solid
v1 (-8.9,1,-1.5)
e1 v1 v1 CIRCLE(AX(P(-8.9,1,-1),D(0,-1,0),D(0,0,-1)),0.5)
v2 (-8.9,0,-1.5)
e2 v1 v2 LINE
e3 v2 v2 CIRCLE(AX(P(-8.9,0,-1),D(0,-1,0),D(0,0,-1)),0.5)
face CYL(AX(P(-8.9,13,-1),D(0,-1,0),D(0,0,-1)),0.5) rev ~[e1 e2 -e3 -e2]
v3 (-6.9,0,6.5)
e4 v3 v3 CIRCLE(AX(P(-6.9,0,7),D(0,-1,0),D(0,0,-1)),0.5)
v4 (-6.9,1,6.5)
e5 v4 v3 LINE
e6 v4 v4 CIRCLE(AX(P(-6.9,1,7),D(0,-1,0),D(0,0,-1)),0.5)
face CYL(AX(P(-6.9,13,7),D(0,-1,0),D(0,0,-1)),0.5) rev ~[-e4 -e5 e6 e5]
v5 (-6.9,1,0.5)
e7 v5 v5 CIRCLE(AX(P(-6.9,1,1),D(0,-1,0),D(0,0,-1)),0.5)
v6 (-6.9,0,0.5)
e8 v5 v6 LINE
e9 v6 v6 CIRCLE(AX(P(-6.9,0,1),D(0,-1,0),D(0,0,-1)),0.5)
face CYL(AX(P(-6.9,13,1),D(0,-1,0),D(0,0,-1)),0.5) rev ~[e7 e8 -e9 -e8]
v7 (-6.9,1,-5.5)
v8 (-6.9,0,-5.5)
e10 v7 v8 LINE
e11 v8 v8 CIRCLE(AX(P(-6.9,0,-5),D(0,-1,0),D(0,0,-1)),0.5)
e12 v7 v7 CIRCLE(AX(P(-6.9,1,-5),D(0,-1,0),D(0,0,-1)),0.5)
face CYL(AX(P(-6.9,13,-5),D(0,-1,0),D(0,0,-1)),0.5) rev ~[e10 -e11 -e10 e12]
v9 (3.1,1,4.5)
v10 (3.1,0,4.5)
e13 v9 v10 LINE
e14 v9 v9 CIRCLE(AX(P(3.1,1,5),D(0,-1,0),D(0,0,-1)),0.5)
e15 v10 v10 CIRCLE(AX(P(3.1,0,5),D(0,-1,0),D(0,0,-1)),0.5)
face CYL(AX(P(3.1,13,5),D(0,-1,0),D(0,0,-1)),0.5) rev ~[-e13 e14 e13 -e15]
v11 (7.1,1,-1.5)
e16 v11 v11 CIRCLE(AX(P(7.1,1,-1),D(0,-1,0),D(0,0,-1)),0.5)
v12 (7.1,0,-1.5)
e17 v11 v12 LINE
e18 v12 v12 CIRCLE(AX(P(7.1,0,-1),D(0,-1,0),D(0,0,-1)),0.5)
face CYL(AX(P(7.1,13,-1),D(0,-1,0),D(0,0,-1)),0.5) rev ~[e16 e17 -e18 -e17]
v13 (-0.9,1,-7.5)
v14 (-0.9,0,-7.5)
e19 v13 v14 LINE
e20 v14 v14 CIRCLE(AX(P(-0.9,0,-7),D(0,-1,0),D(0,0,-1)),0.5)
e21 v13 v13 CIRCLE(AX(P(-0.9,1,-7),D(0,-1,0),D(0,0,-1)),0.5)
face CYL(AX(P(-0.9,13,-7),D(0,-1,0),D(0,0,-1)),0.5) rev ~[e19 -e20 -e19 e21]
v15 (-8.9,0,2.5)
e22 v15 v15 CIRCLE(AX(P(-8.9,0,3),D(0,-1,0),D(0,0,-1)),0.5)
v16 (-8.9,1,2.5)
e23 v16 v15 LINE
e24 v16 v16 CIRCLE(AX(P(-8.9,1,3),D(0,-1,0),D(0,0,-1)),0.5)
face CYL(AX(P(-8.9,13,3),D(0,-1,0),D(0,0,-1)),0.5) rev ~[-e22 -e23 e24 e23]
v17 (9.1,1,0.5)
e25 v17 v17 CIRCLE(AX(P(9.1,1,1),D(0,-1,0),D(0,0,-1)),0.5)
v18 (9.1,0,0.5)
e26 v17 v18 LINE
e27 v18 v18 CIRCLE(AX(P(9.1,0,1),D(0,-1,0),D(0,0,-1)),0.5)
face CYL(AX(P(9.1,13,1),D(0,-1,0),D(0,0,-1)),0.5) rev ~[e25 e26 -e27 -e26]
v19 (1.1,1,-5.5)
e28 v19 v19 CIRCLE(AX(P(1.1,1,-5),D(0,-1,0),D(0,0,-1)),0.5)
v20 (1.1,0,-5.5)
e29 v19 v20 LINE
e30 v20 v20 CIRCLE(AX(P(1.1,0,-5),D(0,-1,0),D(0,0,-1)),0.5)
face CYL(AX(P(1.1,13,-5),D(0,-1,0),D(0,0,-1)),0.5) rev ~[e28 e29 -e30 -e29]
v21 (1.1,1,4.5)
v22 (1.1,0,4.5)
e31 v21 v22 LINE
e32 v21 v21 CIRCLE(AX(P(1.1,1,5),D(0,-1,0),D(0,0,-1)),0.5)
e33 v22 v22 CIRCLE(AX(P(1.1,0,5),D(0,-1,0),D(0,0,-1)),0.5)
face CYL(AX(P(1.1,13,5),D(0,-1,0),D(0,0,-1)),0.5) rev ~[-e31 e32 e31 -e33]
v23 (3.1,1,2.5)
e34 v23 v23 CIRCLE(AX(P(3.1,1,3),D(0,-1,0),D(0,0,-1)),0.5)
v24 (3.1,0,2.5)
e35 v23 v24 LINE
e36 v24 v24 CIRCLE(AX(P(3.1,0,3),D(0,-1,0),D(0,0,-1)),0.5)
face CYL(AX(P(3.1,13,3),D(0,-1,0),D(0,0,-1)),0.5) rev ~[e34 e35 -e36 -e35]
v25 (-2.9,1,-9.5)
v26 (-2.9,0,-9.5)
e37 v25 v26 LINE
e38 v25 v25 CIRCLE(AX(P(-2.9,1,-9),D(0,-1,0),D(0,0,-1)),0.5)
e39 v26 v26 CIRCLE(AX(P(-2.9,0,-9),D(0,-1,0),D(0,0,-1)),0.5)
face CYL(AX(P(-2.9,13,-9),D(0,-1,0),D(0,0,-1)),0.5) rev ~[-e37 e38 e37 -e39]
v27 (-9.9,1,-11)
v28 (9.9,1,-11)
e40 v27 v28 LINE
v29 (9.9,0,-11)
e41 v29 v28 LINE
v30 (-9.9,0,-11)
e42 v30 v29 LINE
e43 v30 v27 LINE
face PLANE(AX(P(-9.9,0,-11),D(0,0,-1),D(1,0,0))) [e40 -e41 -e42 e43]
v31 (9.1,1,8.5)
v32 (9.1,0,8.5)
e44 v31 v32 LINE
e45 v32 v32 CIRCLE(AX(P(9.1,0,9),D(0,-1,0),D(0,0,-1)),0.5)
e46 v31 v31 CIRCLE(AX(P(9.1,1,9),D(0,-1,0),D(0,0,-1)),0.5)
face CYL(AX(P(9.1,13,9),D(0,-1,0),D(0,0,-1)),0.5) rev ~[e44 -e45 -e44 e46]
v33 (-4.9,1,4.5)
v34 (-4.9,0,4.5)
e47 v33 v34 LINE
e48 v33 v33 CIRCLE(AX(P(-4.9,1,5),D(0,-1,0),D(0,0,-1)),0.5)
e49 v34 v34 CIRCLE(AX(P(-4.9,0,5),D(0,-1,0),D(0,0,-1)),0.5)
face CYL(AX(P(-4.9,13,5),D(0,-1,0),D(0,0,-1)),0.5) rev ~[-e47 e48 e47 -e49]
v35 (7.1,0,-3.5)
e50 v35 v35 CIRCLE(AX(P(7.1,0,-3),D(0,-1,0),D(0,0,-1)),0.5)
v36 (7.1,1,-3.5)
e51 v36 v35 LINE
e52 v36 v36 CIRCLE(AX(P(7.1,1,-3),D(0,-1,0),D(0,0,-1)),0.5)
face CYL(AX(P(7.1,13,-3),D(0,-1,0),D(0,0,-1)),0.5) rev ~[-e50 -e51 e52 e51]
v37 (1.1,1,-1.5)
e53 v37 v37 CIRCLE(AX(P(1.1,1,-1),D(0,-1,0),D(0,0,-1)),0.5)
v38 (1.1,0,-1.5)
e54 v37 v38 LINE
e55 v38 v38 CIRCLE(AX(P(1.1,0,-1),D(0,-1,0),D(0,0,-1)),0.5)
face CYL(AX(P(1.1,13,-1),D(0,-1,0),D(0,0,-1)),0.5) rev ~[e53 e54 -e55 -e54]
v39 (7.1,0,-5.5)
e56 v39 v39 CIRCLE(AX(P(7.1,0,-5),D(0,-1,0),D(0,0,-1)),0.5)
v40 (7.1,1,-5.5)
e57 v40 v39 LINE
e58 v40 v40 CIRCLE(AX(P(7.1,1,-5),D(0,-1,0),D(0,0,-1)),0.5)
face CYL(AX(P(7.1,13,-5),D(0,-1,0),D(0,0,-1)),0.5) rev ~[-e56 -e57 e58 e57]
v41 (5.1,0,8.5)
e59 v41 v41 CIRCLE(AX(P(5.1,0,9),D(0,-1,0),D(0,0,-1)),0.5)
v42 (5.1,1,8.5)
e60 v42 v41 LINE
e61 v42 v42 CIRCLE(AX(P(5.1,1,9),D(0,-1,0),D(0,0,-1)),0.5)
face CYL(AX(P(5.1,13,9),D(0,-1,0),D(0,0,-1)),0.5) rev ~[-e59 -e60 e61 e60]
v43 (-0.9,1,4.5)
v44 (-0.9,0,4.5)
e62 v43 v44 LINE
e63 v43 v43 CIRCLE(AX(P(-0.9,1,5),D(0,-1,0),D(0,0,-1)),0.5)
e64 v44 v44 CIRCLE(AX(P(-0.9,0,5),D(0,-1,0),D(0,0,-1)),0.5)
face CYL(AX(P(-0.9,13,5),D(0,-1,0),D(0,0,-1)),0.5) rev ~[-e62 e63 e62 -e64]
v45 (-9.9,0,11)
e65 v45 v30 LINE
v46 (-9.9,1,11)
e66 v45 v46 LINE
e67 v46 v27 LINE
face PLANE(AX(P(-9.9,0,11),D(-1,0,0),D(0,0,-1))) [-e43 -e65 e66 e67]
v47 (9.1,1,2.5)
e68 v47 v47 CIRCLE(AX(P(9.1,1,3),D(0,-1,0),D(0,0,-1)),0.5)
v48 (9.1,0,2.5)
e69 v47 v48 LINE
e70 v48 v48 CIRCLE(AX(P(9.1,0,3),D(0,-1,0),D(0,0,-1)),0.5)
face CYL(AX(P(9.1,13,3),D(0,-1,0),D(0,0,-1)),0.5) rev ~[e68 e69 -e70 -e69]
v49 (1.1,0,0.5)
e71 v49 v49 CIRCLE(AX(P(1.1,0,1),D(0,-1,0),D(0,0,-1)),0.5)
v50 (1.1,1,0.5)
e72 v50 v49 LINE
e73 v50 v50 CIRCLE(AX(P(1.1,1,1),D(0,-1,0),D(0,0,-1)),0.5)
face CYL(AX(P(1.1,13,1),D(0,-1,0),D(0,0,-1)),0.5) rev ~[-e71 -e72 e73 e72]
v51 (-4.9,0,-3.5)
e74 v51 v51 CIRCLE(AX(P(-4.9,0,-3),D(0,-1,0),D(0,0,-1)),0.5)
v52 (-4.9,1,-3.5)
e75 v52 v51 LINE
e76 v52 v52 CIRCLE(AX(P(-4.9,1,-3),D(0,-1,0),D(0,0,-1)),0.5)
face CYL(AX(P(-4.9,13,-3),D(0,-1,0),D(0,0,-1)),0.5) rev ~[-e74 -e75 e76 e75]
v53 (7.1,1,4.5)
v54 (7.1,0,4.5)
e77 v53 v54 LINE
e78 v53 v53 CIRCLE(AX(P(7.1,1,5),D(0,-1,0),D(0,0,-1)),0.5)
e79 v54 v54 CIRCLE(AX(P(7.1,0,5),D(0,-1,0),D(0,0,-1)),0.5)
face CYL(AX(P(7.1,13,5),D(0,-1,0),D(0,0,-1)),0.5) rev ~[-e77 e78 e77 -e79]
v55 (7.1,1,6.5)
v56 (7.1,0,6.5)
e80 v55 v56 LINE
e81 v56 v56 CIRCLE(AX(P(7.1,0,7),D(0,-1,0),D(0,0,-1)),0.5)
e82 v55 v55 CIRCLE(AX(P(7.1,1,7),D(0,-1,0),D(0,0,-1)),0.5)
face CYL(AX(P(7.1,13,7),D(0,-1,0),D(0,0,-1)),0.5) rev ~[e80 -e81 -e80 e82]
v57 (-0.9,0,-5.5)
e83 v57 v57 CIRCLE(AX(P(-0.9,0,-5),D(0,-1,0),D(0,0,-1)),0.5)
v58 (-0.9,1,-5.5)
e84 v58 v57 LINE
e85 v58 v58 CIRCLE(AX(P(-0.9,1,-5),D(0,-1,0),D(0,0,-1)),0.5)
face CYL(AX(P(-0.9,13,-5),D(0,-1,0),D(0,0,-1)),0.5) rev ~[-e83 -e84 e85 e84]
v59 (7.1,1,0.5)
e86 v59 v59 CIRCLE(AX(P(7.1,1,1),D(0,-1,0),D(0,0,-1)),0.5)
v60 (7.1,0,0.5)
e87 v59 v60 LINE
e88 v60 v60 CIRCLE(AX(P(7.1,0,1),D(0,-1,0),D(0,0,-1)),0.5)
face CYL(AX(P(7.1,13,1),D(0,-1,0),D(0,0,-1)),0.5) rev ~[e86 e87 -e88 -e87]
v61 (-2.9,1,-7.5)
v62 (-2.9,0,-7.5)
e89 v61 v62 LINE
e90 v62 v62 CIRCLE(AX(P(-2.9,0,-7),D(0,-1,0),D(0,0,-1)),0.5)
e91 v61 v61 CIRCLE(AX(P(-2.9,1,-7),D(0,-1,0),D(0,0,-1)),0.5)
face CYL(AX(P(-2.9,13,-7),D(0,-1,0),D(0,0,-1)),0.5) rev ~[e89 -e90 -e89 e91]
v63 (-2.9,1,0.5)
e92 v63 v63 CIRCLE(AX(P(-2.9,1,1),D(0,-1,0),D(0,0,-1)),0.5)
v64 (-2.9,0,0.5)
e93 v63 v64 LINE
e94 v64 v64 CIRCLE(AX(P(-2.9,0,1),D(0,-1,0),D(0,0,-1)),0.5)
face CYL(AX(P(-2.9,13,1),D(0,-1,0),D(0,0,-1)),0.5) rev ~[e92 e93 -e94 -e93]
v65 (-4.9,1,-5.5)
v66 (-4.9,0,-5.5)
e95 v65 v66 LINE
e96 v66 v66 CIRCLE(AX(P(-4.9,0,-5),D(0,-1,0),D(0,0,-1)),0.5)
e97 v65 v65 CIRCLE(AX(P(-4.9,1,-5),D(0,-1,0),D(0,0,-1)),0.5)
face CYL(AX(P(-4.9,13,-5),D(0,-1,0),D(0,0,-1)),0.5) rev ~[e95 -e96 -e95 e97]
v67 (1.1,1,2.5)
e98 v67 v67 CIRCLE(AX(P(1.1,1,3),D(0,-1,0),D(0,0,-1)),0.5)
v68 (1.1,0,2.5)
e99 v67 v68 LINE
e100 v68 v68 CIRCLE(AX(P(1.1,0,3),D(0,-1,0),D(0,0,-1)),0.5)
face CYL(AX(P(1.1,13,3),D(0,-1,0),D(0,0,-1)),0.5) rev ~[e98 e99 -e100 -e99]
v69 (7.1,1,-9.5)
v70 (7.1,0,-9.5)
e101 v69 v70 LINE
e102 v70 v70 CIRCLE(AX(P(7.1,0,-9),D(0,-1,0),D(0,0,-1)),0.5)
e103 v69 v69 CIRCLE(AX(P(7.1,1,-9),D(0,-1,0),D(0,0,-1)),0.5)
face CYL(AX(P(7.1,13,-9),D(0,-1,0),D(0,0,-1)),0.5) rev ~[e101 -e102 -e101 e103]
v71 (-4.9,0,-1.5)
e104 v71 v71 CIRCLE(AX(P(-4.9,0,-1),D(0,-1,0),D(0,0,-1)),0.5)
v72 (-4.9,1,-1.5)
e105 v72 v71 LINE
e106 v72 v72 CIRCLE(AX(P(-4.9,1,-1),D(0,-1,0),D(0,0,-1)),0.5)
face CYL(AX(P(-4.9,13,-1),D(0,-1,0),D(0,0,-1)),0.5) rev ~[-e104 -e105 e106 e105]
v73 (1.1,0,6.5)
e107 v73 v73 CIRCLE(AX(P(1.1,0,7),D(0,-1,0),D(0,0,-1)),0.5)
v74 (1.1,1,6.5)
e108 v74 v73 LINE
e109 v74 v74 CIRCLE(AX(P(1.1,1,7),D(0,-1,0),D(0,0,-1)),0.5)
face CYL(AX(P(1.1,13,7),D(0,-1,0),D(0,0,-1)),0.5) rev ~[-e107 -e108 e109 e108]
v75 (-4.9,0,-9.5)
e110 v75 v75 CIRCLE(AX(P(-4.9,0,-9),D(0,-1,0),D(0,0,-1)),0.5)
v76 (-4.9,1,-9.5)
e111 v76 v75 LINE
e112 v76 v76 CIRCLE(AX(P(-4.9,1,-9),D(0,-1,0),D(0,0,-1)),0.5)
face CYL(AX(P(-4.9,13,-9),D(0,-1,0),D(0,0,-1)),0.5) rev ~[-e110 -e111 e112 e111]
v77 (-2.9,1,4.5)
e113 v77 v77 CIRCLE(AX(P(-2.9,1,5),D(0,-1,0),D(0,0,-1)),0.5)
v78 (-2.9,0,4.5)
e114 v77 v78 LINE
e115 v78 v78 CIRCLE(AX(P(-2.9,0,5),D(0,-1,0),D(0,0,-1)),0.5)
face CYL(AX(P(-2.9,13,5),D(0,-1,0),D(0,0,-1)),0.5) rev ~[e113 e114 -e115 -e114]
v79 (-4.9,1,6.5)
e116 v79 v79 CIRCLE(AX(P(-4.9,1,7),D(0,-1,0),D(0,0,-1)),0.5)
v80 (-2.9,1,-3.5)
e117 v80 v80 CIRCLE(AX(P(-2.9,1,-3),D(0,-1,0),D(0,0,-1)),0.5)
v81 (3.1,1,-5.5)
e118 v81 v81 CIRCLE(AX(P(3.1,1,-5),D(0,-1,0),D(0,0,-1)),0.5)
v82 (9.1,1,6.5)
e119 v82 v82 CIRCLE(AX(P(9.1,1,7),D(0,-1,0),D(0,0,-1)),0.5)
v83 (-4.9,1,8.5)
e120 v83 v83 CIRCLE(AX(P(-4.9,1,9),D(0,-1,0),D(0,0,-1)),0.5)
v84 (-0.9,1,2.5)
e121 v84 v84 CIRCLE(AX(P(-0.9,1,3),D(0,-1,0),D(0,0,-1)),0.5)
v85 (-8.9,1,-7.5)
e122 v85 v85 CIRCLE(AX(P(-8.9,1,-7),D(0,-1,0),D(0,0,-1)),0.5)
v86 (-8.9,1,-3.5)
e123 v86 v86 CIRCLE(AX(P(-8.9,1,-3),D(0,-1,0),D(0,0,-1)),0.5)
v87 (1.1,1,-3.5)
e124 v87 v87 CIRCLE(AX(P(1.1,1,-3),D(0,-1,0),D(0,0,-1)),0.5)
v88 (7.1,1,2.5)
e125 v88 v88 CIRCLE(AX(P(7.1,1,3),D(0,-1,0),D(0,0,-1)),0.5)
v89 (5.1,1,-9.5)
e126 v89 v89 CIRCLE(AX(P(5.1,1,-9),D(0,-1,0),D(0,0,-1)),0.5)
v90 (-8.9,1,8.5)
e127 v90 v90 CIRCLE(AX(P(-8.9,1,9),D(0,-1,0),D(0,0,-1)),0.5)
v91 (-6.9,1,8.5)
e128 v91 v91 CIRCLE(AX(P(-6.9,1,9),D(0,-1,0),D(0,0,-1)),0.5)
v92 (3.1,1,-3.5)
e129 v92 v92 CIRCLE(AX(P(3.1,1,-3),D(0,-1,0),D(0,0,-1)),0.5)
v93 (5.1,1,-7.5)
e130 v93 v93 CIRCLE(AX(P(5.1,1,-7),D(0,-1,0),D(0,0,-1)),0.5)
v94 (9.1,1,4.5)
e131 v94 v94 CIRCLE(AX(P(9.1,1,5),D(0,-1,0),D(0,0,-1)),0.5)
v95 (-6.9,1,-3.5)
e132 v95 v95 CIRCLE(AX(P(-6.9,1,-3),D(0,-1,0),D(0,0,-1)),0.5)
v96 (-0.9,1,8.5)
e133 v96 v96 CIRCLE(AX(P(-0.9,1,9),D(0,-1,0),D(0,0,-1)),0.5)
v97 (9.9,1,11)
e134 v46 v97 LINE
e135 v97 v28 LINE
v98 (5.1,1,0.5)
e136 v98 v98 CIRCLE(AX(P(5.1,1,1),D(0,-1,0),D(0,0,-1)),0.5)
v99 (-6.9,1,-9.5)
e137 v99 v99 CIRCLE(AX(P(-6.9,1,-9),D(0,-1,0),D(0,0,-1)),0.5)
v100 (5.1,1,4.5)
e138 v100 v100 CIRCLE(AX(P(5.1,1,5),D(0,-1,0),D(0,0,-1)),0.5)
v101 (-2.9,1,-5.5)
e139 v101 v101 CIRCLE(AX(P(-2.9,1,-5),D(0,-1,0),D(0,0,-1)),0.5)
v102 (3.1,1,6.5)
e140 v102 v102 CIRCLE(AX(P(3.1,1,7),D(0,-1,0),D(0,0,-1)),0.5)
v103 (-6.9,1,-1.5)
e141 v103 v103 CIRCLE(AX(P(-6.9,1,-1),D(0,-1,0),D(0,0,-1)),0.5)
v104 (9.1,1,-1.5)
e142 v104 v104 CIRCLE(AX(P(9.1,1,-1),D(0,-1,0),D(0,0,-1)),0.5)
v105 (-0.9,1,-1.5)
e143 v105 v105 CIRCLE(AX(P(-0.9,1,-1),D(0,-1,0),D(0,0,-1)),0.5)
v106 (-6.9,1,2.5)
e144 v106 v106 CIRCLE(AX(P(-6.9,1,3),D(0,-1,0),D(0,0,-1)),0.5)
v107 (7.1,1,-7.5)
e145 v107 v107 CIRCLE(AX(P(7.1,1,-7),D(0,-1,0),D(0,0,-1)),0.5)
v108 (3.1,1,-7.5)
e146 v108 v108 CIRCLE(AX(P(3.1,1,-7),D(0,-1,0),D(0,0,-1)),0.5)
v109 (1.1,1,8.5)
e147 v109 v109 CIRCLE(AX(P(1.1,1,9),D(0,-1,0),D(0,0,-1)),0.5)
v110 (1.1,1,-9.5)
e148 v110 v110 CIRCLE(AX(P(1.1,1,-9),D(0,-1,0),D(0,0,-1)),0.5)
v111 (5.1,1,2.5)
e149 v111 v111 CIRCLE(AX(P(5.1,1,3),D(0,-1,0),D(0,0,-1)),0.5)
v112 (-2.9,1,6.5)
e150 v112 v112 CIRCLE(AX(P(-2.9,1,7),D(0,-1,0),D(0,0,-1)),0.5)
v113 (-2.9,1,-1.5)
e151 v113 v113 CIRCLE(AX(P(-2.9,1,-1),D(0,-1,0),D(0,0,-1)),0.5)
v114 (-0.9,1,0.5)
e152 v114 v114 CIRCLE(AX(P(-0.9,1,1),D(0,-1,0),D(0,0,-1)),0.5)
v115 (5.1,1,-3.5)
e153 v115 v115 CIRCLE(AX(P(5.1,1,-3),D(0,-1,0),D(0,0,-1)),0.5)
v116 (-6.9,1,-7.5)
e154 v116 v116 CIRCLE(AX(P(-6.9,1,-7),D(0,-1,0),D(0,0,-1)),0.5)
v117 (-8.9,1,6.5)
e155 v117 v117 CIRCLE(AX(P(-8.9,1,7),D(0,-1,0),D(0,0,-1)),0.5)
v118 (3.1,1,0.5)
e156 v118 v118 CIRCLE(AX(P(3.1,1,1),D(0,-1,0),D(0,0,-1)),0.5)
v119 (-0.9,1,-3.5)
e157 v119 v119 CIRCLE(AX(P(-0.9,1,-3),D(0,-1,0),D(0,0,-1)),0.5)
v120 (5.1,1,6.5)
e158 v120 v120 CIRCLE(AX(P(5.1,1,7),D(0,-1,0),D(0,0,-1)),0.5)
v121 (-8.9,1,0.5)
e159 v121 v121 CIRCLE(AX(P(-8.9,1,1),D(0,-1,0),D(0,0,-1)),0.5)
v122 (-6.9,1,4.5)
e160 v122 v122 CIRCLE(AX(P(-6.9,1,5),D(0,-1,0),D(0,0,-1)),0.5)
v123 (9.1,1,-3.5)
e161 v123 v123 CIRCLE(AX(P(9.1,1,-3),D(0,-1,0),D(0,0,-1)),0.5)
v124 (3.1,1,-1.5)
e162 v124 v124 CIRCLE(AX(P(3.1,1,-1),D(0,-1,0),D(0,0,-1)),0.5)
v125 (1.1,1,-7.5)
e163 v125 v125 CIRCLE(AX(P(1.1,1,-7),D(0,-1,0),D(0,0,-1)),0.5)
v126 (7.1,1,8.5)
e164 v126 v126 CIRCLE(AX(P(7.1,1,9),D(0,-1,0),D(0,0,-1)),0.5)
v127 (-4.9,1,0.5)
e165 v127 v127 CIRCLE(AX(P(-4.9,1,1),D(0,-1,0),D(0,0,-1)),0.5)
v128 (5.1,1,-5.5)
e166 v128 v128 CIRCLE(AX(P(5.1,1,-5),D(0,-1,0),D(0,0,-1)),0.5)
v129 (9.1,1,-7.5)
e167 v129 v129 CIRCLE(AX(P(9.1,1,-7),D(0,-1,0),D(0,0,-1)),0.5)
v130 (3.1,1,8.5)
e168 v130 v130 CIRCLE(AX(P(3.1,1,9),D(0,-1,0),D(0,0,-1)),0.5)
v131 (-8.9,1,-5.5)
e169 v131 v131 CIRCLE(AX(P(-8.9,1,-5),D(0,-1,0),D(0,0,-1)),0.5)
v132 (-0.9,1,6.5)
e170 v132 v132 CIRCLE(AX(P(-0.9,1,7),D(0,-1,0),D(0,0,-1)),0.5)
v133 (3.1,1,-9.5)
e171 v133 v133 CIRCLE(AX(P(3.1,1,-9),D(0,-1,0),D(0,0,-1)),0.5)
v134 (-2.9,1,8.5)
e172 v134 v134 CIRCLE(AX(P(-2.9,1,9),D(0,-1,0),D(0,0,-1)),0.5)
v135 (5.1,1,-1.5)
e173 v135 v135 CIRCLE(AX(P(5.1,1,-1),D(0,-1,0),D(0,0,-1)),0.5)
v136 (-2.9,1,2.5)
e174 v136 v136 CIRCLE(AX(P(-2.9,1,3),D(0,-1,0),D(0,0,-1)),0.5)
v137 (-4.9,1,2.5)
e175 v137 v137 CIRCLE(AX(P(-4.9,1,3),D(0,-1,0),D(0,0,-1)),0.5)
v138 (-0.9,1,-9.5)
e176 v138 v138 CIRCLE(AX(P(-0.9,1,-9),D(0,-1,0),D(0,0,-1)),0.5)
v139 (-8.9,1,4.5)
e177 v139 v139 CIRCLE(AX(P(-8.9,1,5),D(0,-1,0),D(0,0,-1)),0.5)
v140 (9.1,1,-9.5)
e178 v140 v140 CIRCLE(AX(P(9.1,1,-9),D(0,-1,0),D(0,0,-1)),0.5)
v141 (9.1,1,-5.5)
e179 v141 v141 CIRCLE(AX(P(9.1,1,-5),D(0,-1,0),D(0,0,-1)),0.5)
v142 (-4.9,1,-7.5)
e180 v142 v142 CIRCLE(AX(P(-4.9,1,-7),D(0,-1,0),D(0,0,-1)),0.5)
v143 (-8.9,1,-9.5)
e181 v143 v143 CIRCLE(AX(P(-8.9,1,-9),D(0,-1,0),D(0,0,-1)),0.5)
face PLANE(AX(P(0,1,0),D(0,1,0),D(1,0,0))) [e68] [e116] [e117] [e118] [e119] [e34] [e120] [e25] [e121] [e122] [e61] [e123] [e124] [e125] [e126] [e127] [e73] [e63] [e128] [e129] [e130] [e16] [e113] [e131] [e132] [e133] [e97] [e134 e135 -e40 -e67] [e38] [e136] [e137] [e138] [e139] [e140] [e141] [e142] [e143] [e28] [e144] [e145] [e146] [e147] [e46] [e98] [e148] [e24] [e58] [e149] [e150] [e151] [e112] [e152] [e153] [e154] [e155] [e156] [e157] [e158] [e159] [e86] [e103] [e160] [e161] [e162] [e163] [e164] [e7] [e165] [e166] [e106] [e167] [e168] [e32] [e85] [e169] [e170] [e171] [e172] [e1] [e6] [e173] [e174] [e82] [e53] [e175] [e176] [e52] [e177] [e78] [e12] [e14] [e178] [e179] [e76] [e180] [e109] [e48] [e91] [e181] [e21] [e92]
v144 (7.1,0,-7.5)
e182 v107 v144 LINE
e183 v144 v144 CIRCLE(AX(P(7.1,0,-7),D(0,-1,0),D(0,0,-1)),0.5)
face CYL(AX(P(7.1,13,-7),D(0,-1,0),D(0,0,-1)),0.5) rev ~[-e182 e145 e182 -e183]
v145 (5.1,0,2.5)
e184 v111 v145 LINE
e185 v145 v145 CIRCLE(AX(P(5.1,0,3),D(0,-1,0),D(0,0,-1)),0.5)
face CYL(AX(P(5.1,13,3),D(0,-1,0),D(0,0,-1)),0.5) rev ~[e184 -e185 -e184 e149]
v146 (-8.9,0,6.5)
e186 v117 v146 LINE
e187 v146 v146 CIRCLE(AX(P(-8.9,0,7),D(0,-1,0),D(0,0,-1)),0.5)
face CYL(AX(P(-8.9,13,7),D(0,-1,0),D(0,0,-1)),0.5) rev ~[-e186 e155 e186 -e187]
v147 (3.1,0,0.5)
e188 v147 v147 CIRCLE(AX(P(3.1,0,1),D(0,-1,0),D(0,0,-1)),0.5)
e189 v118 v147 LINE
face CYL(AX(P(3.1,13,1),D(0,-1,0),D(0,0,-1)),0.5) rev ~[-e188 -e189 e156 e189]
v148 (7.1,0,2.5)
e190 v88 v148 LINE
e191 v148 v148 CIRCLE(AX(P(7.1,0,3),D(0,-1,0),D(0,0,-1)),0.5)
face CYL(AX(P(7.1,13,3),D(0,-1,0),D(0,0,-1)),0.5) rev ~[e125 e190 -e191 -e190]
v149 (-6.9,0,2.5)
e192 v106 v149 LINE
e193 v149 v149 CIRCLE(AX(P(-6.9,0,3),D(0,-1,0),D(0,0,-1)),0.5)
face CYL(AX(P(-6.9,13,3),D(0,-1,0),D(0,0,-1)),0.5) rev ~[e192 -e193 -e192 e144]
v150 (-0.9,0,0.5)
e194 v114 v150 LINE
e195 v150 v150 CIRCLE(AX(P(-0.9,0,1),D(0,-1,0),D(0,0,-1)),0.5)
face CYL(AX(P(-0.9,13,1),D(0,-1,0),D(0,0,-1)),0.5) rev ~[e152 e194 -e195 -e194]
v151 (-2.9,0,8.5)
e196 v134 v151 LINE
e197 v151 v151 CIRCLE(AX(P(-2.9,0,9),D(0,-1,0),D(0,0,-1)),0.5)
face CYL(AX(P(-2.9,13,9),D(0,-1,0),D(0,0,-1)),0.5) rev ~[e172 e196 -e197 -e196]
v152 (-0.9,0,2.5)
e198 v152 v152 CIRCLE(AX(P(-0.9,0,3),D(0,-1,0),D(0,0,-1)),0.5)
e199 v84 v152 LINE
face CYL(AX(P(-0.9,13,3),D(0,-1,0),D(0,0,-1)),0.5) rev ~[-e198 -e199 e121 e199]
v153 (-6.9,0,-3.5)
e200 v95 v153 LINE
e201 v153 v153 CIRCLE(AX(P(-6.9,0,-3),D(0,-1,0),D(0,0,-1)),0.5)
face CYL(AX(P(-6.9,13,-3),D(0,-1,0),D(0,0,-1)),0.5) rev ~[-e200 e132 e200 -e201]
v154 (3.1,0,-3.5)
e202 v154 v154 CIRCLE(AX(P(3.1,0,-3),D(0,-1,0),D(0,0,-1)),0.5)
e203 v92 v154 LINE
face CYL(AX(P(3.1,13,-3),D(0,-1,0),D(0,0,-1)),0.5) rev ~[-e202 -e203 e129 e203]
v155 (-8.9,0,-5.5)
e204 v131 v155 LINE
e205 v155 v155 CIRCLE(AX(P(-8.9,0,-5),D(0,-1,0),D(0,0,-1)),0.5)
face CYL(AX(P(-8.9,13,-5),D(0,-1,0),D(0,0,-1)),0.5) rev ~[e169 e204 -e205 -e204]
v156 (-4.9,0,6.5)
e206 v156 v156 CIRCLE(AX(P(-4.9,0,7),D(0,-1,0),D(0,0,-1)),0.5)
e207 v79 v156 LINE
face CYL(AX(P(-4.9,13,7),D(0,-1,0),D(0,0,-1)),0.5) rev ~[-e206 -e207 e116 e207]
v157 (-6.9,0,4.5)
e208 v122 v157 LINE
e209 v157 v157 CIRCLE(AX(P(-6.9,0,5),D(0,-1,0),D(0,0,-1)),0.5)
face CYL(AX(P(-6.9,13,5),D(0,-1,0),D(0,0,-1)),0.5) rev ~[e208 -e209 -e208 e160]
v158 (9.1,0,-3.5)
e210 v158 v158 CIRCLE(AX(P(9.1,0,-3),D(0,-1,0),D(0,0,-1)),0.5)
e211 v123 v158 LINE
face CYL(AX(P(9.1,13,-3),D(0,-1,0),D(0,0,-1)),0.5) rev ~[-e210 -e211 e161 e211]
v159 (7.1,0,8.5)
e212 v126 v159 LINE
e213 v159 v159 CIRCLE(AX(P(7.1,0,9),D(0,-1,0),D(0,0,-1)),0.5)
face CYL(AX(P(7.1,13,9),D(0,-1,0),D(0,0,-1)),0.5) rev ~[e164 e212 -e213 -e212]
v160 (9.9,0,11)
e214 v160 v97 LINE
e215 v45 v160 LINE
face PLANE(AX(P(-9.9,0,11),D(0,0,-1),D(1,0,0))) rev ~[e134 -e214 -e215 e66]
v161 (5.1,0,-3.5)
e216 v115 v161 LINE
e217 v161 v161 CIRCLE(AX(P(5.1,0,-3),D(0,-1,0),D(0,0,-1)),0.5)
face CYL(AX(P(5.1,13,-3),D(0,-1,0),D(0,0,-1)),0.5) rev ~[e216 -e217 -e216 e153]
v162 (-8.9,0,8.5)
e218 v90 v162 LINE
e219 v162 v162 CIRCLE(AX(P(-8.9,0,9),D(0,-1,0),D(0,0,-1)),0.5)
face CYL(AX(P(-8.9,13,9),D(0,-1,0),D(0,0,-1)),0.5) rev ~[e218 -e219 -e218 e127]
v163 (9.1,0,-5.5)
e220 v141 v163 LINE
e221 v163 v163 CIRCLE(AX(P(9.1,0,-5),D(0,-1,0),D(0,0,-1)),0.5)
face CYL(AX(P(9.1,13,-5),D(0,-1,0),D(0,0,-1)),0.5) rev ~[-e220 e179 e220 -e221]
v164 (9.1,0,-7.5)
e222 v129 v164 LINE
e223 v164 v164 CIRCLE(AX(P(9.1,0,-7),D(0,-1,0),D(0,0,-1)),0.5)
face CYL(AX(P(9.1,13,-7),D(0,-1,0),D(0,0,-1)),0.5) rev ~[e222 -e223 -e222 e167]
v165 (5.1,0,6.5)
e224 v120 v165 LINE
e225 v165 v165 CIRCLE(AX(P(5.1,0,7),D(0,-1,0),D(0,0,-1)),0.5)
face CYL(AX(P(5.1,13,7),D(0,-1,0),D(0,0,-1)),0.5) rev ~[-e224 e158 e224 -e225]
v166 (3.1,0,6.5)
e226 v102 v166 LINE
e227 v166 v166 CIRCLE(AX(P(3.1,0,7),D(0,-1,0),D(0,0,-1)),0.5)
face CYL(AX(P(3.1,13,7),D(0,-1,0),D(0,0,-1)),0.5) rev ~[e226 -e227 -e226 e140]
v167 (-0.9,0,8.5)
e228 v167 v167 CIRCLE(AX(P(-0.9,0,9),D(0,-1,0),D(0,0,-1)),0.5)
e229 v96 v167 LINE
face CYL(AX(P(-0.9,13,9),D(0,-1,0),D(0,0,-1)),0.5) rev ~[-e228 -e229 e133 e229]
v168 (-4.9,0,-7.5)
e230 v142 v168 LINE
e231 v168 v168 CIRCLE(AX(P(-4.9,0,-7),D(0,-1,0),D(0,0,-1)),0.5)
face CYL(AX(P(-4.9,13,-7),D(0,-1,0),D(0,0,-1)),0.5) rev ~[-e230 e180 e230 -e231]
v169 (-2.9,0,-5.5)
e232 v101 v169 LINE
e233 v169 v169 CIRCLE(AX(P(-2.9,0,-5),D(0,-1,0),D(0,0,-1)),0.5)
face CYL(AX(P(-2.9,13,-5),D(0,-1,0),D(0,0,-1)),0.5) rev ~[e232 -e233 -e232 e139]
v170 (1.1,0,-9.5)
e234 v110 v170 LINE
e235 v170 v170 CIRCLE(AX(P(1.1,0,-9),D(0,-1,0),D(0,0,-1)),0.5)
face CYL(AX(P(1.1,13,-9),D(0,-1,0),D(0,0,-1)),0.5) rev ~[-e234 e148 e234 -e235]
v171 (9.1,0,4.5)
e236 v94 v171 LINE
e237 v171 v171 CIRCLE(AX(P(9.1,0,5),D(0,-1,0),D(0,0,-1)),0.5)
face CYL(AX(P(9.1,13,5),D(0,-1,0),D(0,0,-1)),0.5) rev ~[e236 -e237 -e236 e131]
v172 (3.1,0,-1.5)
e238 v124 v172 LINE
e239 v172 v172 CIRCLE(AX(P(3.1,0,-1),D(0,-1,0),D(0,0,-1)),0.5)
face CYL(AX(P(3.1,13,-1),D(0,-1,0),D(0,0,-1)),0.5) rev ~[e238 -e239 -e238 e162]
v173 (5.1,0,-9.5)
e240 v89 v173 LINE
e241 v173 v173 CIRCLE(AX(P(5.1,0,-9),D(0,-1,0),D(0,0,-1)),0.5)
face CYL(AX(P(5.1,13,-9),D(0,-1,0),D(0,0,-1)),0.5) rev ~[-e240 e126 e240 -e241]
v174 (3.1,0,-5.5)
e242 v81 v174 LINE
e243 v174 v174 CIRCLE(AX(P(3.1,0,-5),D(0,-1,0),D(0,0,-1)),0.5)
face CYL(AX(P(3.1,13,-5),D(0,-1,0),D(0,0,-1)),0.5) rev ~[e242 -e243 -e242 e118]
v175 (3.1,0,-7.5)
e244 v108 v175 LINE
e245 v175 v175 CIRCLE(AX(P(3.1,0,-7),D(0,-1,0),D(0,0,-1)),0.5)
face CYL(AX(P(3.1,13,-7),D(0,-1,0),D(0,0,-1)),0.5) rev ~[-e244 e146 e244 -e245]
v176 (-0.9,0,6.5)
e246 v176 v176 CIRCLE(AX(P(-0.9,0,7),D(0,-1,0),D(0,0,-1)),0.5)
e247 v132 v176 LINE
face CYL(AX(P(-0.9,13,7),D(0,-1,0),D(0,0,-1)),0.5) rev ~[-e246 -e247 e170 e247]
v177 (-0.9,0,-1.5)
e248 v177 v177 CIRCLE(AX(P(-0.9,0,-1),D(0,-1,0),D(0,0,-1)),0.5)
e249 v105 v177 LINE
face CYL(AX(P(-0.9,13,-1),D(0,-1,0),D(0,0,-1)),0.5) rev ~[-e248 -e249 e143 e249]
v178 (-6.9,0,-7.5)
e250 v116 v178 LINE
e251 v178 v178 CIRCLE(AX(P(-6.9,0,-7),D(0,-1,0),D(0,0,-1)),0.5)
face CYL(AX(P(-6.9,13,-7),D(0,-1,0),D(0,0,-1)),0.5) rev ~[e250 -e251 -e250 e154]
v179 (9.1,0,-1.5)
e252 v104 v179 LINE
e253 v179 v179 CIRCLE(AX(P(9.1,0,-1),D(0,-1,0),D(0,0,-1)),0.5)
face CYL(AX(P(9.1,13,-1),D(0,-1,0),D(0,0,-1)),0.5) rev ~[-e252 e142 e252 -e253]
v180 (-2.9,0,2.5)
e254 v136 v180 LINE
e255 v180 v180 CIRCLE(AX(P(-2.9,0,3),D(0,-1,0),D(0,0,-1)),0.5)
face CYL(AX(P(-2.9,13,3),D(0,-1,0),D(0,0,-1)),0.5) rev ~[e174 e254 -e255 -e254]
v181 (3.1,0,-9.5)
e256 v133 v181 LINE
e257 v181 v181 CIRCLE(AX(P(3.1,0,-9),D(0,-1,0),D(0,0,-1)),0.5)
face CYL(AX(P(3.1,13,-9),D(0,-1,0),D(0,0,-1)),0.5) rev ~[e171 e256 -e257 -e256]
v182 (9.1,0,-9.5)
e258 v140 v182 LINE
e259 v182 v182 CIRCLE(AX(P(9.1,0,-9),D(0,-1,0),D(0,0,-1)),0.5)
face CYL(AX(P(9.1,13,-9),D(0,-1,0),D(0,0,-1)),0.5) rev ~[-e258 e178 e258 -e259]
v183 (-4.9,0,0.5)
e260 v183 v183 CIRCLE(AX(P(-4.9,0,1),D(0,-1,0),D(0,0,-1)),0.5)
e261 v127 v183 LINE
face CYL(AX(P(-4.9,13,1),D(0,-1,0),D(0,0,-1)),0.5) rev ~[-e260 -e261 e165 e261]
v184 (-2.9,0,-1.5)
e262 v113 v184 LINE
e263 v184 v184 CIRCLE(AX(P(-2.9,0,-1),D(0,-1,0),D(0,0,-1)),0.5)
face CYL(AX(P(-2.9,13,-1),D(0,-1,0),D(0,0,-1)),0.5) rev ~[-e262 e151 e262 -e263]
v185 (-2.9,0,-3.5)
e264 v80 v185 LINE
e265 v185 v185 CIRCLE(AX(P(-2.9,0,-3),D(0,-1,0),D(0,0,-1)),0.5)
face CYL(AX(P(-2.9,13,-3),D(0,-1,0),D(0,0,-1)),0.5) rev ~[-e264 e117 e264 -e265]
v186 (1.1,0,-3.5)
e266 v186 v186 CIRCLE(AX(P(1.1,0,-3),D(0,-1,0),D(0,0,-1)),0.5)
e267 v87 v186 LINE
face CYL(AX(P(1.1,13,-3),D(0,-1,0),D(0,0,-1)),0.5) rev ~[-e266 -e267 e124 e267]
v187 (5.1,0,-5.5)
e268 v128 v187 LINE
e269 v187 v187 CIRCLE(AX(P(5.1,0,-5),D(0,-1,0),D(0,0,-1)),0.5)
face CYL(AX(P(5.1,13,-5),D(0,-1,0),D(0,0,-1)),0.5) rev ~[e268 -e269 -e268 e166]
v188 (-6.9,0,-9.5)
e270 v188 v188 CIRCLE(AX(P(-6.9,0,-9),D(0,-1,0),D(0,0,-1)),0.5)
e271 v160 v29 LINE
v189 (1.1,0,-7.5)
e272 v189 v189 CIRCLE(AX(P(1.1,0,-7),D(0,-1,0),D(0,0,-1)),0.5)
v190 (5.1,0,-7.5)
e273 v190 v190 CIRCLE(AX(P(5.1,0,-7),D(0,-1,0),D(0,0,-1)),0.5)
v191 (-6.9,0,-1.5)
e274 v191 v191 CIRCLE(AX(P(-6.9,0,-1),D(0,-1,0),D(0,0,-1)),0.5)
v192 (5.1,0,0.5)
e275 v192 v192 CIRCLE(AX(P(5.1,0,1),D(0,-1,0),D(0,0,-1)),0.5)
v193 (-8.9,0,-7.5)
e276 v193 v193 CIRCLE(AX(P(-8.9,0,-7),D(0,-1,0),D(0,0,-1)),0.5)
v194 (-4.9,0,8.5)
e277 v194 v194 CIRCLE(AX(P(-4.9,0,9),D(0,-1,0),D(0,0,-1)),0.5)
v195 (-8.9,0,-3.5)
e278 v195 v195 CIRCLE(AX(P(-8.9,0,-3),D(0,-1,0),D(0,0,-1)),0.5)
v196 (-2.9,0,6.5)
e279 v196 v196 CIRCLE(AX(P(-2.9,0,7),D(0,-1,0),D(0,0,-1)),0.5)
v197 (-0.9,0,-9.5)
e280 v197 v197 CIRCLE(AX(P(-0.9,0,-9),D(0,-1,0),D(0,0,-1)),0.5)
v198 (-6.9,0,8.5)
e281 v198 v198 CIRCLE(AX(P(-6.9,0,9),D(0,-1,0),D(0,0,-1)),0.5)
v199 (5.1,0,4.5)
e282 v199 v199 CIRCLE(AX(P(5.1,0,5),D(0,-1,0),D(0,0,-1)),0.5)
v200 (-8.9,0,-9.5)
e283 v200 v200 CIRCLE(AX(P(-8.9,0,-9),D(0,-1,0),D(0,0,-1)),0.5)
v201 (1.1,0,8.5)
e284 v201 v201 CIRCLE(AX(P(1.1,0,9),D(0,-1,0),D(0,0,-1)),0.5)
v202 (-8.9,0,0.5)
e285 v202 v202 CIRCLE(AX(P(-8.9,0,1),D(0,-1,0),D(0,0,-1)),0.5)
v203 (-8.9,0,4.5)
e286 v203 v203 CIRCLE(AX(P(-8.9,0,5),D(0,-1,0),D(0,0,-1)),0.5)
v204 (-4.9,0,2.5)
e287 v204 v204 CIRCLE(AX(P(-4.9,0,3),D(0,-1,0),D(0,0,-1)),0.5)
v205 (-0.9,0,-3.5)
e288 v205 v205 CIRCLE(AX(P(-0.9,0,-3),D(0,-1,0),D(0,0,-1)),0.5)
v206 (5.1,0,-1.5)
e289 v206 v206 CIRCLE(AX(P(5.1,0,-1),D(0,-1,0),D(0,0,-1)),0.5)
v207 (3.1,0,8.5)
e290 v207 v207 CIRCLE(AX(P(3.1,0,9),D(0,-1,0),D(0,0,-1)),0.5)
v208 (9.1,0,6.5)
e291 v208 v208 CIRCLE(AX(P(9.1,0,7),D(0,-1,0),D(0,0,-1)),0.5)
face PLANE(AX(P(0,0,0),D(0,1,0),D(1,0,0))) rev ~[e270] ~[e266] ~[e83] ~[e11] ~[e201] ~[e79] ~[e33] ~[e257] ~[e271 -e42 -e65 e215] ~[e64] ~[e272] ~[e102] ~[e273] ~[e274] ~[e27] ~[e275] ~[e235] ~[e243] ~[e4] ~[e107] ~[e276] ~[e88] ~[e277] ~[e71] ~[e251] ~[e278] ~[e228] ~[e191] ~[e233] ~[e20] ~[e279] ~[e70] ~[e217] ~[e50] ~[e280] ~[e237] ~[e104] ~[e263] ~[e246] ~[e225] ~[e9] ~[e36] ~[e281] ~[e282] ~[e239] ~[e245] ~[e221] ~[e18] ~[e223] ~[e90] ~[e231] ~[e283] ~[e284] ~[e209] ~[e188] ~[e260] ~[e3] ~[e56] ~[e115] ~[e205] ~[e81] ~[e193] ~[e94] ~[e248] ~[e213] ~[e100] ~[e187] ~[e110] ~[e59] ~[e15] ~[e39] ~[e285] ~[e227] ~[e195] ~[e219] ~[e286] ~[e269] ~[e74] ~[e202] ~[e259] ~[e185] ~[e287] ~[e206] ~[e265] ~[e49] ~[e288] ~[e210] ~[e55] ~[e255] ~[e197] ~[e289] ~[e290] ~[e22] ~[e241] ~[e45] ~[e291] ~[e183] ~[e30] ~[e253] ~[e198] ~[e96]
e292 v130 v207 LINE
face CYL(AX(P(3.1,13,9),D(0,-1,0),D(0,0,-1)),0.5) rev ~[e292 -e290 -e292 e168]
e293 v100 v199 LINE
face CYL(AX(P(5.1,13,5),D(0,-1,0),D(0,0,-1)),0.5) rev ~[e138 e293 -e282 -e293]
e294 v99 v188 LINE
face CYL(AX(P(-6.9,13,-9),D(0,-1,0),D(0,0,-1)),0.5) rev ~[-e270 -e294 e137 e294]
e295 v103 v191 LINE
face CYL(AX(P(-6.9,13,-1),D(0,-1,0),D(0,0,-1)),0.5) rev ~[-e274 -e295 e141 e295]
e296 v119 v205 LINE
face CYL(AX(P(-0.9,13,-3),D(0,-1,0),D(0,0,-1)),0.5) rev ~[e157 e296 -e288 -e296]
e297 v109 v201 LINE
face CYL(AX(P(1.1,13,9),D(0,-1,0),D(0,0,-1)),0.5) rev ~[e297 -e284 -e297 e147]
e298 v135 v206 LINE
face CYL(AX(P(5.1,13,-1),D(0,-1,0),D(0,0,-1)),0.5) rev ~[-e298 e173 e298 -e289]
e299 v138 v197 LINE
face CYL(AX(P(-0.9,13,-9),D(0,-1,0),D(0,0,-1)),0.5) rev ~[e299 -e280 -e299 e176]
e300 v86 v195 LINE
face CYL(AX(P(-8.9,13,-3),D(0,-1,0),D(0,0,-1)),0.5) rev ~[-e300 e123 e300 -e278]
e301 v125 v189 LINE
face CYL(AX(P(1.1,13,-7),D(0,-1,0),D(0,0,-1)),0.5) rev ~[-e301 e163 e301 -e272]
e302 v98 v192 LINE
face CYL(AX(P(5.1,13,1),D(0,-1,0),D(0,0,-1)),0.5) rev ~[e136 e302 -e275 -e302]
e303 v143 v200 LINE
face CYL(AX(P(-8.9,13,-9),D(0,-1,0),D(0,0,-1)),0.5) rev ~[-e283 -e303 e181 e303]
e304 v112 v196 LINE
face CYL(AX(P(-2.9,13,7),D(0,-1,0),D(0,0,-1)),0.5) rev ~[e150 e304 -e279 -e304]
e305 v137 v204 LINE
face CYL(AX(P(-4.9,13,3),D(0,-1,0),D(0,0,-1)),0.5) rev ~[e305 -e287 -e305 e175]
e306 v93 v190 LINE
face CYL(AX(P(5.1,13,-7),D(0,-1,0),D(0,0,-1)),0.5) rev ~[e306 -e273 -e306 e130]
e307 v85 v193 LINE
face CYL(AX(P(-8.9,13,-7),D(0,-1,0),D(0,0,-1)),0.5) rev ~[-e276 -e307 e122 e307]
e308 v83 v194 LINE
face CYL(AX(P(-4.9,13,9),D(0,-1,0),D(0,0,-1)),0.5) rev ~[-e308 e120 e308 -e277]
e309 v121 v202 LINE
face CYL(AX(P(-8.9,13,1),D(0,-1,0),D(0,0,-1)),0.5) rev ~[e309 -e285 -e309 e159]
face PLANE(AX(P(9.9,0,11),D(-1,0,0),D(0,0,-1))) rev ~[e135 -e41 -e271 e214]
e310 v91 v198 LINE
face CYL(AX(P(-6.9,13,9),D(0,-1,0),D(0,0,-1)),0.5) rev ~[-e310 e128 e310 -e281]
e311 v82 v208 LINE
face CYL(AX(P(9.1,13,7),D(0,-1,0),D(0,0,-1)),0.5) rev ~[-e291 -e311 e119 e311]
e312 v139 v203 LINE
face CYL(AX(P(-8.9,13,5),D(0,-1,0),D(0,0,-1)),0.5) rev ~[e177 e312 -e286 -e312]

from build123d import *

# Parameters (mm, degrees)
CROQUIS1_W                        = 19.8
CROQUIS1_H                        = 22
SALIENTE_EXTRUIR1_DEPTH           = 1
DI_METRO_DE_TALADRO_1_0_1_1_D     = 1
DI_METRO_DE_TALADRO_1_0_1_1_DEPTH = 12
DI_METRO_DE_TALADRO_1_0_1_1_TIP   = 0.30043031


with BuildPart() as part:
    # Croquis1 → Saliente-Extruir1 (new body)
    with BuildSketch(Plane(origin=(0, 0, 0), x_dir=(1, 0, 0), z_dir=(0, 1, 0))):
        Rectangle(CROQUIS1_W, CROQUIS1_H)
    extrude(amount=SALIENTE_EXTRUIR1_DEPTH)

    # Diámetro de taladro Ø1.0 (1)1
    with Locations(Plane(origin=(-8.9, 1, -9), x_dir=(0, 0, 1), z_dir=(0, 1, 0))):
        with Locations((0, 0), (0, 2), (0, 4), (0, 6), (0, 8), (0, 10), (0, 12), (0, 14), (0, 16), (0, 18), (2, 0), (2, 2), (2, 4), (2, 6), (2, 8), (2, 10), (2, 12), (2, 14), (2, 16), (2, 18), (4, 18), (4, 16), (4, 14), (4, 12), (4, 10), (4, 8), (4, 6), (4, 4), (4, 2), (4, 0), (6, 0), (6, 2), (6, 4), (6, 6), (6, 8), (6, 10), (6, 12), (6, 14), (6, 16), (6, 18), (8, 18), (8, 16), (8, 14), (8, 12), (8, 10), (8, 8), (8, 6), (8, 4), (8, 2), (8, 0), (10, 0), (10, 2), (10, 4), (10, 6), (10, 8), (10, 10), (10, 12), (10, 14), (10, 16), (10, 18), (12, 18), (12, 16), (12, 14), (12, 12), (12, 10), (12, 8), (12, 6), (12, 4), (12, 2), (12, 0), (14, 0), (14, 2), (14, 4), (14, 6), (14, 8), (14, 10), (14, 12), (14, 14), (14, 16), (14, 18), (16, 18), (16, 16), (16, 14), (16, 12), (16, 10), (16, 8), (16, 6), (16, 4), (16, 2), (16, 0), (18, 0), (18, 2), (18, 4), (18, 6), (18, 8), (18, 10), (18, 12), (18, 14), (18, 16), (18, 18)):
            Hole(DI_METRO_DE_TALADRO_1_0_1_1_D / 2, depth=DI_METRO_DE_TALADRO_1_0_1_1_DEPTH)
            with Locations((0, 0, -(DI_METRO_DE_TALADRO_1_0_1_1_DEPTH + DI_METRO_DE_TALADRO_1_0_1_1_TIP / 2))):  # 118° drill point
                Cone(0, DI_METRO_DE_TALADRO_1_0_1_1_D / 2, DI_METRO_DE_TALADRO_1_0_1_1_TIP, mode=Mode.SUBTRACT)


solid = part.part
